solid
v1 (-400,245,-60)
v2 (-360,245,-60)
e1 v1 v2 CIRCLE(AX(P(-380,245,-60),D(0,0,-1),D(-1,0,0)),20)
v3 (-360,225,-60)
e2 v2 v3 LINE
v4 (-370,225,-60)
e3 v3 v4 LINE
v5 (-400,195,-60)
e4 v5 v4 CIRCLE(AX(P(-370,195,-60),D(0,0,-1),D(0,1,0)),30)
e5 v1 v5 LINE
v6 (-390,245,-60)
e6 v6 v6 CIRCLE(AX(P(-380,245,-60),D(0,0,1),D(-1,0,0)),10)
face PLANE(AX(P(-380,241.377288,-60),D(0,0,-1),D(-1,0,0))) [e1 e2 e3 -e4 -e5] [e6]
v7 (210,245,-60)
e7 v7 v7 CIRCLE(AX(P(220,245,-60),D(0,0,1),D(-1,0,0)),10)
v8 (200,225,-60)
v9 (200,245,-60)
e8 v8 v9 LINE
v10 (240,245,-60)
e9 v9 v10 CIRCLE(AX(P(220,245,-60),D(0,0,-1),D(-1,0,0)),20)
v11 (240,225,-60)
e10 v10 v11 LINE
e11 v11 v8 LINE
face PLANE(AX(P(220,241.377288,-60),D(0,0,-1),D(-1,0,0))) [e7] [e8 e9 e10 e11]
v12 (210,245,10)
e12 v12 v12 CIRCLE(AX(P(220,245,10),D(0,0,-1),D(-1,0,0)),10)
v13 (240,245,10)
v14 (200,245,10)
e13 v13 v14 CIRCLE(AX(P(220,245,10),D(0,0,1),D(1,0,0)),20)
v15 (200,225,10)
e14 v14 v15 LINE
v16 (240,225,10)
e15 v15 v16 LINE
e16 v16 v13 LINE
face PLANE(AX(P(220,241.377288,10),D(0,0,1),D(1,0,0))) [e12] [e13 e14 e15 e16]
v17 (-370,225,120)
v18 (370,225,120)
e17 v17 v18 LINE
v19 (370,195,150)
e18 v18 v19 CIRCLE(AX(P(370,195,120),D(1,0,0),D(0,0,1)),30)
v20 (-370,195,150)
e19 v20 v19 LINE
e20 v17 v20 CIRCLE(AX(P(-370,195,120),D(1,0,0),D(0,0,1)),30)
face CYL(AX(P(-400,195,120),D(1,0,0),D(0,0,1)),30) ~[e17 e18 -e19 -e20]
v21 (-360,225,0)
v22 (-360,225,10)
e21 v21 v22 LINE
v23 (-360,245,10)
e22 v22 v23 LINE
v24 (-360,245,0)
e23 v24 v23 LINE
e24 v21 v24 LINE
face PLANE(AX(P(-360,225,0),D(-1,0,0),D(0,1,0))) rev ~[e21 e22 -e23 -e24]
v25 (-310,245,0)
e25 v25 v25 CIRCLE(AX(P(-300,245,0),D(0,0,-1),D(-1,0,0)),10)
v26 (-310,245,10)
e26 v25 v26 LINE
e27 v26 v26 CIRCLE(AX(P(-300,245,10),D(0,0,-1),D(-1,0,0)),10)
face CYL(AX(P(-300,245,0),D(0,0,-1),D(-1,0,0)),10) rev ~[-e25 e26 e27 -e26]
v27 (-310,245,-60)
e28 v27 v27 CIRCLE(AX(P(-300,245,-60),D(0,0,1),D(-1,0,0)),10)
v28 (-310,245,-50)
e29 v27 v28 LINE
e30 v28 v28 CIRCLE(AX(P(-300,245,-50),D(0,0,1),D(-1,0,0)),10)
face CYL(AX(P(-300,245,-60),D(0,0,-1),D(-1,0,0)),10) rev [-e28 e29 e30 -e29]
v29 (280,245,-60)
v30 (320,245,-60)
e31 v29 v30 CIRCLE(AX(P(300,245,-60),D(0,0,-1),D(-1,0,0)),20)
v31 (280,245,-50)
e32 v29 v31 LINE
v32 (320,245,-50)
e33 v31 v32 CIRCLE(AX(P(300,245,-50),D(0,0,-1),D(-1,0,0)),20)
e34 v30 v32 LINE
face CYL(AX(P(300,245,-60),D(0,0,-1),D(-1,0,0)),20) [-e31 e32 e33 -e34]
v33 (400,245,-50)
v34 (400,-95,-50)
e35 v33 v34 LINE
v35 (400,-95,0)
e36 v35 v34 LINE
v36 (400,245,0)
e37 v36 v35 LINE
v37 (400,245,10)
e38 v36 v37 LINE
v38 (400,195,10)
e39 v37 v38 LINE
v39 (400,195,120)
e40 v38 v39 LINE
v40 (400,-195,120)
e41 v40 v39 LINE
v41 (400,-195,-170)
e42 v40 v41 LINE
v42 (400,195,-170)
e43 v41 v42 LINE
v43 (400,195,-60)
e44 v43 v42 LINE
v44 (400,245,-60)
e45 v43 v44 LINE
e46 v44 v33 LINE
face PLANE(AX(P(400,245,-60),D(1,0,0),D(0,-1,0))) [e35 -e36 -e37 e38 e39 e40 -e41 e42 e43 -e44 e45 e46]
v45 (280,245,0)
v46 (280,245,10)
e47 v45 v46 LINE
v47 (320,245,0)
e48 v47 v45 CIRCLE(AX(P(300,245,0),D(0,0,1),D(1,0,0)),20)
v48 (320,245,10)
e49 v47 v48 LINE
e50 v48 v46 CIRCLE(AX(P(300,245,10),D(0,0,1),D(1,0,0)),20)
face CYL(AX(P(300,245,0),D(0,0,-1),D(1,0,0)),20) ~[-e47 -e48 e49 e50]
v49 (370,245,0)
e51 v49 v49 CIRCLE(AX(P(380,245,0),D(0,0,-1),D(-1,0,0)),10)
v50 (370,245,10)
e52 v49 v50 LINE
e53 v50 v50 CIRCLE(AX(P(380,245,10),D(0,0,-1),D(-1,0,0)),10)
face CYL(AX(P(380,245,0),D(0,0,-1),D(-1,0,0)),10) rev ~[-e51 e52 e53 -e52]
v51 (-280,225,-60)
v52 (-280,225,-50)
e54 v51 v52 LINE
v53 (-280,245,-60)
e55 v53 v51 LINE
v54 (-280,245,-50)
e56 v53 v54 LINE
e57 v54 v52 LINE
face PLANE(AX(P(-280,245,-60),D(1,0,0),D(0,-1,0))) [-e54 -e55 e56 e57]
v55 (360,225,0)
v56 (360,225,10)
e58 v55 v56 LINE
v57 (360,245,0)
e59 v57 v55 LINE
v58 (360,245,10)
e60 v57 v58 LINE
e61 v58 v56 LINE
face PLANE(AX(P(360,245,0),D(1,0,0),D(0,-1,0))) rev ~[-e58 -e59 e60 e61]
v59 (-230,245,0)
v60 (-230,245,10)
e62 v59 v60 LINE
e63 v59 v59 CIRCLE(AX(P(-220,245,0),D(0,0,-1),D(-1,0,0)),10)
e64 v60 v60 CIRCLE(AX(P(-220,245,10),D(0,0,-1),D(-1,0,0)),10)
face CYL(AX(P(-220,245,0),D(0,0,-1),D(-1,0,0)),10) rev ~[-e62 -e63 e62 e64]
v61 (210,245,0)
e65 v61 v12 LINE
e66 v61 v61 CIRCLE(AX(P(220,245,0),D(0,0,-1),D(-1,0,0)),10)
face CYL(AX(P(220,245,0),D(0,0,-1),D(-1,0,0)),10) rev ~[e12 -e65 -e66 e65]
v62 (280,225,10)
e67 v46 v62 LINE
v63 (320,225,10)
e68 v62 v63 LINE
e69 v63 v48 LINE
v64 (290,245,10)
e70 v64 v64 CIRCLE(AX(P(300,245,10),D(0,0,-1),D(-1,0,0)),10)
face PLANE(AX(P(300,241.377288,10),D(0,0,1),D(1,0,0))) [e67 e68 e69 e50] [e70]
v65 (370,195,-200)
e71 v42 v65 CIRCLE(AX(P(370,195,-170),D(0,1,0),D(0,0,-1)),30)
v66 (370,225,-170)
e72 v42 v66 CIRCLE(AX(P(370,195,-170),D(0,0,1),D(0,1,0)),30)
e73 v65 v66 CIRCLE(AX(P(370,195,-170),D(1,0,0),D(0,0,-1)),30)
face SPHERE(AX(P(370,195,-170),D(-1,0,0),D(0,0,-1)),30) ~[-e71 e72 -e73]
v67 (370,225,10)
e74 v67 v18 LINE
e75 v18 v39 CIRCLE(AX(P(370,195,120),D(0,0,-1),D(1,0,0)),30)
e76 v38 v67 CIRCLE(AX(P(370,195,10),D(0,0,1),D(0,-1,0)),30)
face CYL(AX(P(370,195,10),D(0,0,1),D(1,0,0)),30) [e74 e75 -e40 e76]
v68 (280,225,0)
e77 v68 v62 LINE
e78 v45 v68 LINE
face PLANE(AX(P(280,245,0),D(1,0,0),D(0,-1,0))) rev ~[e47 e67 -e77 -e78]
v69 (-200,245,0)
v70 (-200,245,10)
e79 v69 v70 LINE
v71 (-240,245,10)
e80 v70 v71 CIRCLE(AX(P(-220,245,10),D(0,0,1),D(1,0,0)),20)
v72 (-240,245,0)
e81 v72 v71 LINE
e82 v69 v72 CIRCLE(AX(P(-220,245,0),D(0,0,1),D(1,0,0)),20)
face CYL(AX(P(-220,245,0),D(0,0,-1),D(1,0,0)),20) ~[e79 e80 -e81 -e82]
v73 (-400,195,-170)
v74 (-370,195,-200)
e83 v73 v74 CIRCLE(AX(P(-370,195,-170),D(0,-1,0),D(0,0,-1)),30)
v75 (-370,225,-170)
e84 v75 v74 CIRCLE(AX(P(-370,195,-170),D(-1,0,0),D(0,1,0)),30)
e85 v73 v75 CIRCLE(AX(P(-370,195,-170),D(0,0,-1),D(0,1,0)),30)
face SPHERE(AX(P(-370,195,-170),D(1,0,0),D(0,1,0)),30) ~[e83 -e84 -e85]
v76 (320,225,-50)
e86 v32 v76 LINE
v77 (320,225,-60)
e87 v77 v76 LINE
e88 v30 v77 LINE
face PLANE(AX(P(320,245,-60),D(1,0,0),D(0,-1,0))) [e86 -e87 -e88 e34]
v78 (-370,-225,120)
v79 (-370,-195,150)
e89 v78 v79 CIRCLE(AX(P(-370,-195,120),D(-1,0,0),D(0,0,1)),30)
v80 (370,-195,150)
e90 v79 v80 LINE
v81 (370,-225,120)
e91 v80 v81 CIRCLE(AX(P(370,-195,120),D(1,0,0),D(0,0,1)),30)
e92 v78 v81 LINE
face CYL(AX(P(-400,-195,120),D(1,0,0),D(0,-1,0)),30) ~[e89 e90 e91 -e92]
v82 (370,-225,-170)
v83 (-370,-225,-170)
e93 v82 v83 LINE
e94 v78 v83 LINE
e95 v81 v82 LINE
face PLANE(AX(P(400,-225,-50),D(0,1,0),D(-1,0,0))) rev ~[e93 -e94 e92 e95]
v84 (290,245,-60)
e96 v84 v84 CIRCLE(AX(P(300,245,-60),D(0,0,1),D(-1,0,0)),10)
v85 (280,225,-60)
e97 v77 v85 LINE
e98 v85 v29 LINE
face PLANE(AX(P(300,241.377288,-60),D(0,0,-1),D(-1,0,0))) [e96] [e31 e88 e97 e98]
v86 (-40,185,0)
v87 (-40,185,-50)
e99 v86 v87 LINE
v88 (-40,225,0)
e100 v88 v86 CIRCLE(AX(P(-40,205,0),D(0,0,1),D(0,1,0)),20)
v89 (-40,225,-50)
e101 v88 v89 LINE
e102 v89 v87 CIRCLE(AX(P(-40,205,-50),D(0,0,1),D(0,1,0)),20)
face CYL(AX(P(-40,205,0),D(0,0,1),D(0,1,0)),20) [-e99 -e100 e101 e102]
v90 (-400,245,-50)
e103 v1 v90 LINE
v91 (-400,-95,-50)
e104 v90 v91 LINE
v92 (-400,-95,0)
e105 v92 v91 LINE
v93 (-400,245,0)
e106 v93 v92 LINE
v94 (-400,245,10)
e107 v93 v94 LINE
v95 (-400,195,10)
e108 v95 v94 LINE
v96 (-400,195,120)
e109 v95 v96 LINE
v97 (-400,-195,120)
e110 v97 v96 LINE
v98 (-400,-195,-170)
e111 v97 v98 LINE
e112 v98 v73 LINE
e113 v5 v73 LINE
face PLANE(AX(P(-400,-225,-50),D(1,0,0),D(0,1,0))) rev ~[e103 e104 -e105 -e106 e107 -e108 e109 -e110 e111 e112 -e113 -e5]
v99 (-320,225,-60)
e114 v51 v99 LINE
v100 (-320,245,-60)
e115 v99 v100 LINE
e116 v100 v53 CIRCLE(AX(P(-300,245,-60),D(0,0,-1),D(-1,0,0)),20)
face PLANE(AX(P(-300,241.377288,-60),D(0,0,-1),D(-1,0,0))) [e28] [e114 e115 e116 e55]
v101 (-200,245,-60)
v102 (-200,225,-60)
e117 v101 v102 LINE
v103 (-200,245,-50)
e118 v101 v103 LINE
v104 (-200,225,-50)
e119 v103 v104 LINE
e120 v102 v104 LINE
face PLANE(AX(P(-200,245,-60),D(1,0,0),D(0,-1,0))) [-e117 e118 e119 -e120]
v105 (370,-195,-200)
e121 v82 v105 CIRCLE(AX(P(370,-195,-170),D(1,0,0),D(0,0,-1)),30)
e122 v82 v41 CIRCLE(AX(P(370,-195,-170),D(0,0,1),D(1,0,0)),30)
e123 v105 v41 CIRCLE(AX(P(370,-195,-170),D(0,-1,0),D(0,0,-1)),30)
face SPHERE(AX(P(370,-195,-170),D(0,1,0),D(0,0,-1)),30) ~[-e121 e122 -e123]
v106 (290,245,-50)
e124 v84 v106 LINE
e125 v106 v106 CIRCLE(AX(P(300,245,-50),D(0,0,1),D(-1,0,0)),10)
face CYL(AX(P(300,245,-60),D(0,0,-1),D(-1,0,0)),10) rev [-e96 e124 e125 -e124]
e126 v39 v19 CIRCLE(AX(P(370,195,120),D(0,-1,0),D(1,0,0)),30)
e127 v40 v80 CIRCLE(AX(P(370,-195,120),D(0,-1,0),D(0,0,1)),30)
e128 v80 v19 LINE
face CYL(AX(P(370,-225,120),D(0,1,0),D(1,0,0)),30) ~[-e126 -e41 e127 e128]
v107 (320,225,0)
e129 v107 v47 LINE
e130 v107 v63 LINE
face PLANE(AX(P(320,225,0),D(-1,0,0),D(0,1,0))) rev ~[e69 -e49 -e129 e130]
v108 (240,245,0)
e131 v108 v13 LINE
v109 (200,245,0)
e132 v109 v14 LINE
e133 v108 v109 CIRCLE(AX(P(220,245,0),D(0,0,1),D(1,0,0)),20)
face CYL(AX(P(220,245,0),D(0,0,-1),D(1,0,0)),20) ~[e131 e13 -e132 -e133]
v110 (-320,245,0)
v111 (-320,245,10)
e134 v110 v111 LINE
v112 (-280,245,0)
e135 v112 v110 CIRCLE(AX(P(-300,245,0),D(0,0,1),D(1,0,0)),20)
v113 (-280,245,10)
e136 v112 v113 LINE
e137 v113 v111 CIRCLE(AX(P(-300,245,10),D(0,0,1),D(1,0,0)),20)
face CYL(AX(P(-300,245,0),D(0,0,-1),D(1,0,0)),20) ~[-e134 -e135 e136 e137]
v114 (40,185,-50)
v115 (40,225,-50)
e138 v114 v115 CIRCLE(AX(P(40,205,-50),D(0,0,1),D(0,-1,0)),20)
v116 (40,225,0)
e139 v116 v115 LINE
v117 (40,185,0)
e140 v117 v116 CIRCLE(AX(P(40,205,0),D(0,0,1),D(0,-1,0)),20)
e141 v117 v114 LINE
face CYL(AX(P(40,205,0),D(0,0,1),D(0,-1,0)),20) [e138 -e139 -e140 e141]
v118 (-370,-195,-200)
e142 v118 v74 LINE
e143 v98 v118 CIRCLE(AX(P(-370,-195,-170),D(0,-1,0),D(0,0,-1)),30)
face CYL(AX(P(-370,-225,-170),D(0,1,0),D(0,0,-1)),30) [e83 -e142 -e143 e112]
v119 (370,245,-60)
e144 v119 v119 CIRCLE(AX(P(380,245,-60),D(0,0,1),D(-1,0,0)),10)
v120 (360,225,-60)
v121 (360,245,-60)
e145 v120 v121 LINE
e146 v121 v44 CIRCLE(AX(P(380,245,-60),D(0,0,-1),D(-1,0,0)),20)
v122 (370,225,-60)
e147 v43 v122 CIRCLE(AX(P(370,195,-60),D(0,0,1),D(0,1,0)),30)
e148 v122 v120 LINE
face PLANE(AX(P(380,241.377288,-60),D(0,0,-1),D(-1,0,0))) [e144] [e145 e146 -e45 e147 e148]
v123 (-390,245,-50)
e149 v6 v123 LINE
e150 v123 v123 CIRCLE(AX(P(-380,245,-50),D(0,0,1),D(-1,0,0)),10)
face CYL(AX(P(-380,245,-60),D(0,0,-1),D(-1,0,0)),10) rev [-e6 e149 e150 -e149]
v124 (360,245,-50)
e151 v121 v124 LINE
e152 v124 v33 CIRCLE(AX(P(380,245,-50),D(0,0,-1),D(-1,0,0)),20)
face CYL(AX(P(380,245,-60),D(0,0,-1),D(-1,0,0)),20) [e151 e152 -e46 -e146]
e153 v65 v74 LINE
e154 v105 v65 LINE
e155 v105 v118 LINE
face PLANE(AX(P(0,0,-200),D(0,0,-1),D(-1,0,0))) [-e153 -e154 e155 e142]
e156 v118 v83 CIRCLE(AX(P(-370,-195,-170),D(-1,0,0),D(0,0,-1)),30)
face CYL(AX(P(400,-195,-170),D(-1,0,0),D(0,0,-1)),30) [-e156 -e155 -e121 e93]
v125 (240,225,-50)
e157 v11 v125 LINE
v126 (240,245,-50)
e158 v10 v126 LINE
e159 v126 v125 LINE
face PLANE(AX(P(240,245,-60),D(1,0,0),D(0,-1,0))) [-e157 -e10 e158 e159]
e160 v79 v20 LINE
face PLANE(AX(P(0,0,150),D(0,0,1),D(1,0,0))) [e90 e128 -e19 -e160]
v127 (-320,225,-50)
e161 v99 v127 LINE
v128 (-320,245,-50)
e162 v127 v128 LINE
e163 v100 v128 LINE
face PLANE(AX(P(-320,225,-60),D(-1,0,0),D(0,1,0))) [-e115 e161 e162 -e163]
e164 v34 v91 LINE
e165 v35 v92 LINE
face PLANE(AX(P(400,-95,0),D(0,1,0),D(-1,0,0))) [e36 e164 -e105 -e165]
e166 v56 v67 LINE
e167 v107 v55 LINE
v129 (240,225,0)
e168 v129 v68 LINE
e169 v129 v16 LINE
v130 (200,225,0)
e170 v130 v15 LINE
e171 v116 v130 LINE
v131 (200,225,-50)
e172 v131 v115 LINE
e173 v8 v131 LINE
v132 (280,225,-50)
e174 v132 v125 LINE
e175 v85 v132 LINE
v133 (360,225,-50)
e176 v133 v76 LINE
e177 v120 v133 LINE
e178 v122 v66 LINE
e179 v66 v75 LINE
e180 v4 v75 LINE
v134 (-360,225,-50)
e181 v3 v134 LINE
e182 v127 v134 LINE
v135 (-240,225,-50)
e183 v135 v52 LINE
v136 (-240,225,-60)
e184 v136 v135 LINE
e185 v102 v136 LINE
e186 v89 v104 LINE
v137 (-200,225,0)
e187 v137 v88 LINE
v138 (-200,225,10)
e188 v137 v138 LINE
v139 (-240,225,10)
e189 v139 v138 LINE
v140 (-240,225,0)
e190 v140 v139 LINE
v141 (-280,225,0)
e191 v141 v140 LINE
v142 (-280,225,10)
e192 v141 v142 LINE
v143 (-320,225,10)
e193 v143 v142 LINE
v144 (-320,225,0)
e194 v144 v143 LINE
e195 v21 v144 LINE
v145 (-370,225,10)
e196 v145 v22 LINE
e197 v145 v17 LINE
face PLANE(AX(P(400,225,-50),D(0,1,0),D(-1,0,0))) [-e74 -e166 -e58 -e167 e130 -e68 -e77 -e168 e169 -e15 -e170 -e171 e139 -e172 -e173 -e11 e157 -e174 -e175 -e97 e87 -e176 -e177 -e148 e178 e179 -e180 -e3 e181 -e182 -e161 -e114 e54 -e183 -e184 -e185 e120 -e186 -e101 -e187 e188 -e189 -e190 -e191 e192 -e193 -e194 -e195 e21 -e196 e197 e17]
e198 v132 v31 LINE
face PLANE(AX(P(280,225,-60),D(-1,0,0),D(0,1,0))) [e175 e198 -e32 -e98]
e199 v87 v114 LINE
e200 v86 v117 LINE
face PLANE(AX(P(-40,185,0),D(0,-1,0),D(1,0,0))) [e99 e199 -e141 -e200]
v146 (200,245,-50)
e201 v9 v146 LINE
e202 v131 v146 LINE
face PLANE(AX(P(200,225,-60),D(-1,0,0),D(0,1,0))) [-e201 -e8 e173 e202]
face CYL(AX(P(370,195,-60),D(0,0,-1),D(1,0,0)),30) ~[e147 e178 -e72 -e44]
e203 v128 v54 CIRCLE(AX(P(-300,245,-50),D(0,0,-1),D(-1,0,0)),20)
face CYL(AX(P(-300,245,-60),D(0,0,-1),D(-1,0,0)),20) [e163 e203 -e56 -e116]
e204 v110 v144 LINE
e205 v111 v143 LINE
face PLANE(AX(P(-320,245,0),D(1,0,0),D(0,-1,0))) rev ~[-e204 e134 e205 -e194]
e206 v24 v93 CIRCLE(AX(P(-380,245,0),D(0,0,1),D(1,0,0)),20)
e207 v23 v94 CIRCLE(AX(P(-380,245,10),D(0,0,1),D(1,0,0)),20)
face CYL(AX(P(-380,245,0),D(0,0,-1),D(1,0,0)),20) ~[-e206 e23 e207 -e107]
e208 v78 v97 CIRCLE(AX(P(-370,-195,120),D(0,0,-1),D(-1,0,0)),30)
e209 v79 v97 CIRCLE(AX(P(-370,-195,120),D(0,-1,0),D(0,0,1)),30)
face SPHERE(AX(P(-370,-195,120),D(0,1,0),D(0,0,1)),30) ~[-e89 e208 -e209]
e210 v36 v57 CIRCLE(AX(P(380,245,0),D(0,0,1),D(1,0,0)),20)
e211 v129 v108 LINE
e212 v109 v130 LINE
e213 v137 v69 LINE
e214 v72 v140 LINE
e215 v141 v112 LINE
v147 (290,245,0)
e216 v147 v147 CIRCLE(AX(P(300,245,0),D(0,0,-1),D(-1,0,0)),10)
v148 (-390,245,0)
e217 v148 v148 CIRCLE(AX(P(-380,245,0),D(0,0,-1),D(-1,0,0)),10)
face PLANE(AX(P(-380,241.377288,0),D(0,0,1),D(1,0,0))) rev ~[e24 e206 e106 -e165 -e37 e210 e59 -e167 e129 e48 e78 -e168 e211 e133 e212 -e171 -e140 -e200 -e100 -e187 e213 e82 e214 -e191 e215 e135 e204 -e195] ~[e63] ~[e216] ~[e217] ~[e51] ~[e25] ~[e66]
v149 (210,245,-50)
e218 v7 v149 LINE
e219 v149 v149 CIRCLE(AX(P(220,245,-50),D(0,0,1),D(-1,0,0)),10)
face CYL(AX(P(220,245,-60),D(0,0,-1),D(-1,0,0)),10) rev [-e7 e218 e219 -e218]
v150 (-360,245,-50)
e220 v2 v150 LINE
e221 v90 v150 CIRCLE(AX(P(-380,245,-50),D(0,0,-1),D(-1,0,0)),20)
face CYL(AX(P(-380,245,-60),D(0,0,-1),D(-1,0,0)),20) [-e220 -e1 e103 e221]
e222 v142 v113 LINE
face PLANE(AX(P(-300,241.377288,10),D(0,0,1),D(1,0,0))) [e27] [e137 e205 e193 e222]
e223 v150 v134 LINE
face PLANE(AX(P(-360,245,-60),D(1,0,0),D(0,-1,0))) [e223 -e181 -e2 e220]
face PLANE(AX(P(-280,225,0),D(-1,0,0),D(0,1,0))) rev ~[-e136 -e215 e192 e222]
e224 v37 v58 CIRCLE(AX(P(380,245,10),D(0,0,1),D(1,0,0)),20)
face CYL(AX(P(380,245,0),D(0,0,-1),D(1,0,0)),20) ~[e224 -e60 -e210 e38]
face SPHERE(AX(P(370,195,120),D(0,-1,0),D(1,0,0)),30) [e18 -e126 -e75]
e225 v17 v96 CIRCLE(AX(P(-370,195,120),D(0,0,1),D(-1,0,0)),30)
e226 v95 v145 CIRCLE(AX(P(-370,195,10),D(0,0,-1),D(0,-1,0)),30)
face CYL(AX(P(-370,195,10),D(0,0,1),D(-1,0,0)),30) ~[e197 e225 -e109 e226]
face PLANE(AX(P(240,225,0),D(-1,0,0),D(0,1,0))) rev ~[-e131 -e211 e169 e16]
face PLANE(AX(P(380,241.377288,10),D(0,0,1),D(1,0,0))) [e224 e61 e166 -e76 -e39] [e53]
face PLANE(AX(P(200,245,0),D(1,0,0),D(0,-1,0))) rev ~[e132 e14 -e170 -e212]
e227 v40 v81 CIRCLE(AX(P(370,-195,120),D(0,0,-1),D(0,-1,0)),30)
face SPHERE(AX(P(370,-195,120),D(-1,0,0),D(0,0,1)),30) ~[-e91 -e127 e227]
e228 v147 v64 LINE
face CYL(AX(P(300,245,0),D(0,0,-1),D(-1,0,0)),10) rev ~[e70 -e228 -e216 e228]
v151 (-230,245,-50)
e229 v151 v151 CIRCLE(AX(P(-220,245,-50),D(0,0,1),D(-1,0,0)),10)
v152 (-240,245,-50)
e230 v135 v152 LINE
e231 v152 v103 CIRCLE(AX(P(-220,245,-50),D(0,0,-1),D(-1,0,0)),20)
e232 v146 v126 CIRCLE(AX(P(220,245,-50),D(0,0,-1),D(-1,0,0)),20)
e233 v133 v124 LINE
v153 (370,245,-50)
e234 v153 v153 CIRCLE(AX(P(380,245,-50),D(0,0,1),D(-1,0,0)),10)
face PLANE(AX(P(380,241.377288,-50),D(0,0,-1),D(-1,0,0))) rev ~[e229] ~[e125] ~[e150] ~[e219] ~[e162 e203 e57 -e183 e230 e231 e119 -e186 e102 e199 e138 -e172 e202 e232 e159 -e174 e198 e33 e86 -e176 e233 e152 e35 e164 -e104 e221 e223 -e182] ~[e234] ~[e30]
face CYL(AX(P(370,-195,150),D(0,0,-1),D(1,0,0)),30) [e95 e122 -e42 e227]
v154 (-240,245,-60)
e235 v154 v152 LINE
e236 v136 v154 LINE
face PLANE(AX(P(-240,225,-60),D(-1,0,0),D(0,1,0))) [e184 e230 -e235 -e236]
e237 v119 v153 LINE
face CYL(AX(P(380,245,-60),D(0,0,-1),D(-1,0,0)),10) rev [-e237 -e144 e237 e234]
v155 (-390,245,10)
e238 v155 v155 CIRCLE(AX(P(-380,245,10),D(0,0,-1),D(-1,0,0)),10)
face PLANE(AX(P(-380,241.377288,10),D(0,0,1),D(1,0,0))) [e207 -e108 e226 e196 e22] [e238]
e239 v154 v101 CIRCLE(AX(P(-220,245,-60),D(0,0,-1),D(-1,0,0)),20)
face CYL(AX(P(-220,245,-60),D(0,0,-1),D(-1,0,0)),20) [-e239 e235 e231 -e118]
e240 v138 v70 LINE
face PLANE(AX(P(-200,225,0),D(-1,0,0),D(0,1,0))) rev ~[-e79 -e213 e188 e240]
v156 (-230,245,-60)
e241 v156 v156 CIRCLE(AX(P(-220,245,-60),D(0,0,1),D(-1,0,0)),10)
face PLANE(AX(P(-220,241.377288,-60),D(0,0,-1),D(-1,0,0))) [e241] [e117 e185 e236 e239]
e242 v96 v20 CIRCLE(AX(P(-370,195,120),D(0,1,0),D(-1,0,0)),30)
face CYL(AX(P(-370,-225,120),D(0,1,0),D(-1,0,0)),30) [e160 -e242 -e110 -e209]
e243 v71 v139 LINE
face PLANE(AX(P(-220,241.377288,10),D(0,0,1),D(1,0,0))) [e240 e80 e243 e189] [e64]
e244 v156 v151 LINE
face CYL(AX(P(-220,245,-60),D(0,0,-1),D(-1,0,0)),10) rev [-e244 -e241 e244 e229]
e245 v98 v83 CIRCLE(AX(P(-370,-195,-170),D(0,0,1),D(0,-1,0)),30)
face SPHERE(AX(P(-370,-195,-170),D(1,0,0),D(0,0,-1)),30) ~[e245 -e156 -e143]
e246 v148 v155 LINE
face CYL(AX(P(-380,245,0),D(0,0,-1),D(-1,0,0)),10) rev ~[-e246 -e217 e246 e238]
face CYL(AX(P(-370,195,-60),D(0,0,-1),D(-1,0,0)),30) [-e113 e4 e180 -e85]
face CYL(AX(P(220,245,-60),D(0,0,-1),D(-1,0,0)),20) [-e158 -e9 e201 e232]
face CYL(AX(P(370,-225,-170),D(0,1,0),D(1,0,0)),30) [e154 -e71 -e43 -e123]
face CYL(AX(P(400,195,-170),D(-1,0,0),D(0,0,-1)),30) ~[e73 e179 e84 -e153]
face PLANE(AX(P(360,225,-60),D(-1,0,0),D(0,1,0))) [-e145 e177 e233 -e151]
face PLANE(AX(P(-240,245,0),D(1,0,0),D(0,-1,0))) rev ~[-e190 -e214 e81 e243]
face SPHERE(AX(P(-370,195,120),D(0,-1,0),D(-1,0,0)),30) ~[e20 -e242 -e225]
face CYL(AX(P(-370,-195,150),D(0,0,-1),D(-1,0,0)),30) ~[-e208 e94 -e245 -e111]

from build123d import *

# Parameters (mm, degrees)
SKETCH_1_W      = 800
SKETCH_1_H      = 450
EXTRUDE_1_DEPTH = 150
SKETCH_2_R      = 10
EXTRUDE_2_DEPTH = 10
SKETCH_3_W      = 800
SKETCH_3_H      = 130
EXTRUDE_3_DEPTH = 50
SKETCH_4_W      = 800
SKETCH_4_H      = 450
EXTRUDE_4_DEPTH = 150
EXTRUDE_START   = -10
SKETCH_5_R      = 10
EXTRUDE_5_DEPTH = 10
FILLET_1_R      = 30


with BuildPart() as part:
    # 草图1 → 凸台-拉伸1 (new body)
    with BuildSketch(Plane.XY):
        Rectangle(SKETCH_1_W, SKETCH_1_H)
    extrude(amount=EXTRUDE_1_DEPTH)

    # 草图2 → 凸台-拉伸2 (add)
    # profile 1 of 6: a face of its own
    with BuildSketch(Plane(origin=(0, 0, 0), x_dir=(-1, 0, 0), z_dir=(0, 0, -1))):
        with BuildLine():
            Line((400, 245), (400, 225))
            Line((400, 225), (360, 225))
            Line((360, 225), (360, 245))
            ThreePointArc((360, 245), (380, 265), (400, 245))
        make_face()
        with Locations((380, 245)):
            Circle(SKETCH_2_R, mode=Mode.SUBTRACT)
    # profile 2 of 6: a face of its own
    with BuildSketch(Plane(origin=(0, 0, 0), x_dir=(-1, 0, 0), z_dir=(0, 0, -1))):
        with BuildLine():
            Line((240, 245), (240, 225))
            Line((240, 225), (200, 225))
            Line((200, 225), (200, 245))
            ThreePointArc((200, 245), (220, 265), (240, 245))
        make_face()
        with Locations((220, 245)):
            Circle(SKETCH_2_R, mode=Mode.SUBTRACT)
    # profile 3 of 6: a face of its own
    with BuildSketch(Plane(origin=(0, 0, 0), x_dir=(-1, 0, 0), z_dir=(0, 0, -1))):
        with BuildLine():
            Line((-200, 245), (-200, 225))
            Line((-200, 225), (-240, 225))
            Line((-240, 225), (-240, 245))
            ThreePointArc((-240, 245), (-220, 265), (-200, 245))
        make_face()
        with Locations((-220, 245)):
            Circle(SKETCH_2_R, mode=Mode.SUBTRACT)
    # profile 4 of 6: a face of its own
    with BuildSketch(Plane(origin=(0, 0, 0), x_dir=(-1, 0, 0), z_dir=(0, 0, -1))):
        with BuildLine():
            Line((-360, 245), (-360, 225))
            Line((-360, 225), (-400, 225))
            Line((-400, 225), (-400, 245))
            ThreePointArc((-400, 245), (-380, 265), (-360, 245))
        make_face()
        with Locations((-380, 245)):
            Circle(SKETCH_2_R, mode=Mode.SUBTRACT)
    # profile 5 of 6: a face of its own
    with BuildSketch(Plane(origin=(0, 0, 0), x_dir=(-1, 0, 0), z_dir=(0, 0, -1))):
        with BuildLine():
            Line((-280, 245), (-280, 225))
            Line((-280, 225), (-320, 225))
            Line((-320, 225), (-320, 245))
            ThreePointArc((-320, 245), (-300, 265), (-280, 245))
        make_face()
        with Locations((-300, 245)):
            Circle(SKETCH_2_R, mode=Mode.SUBTRACT)
    # profile 6 of 6: a face of its own
    with BuildSketch(Plane(origin=(0, 0, 0), x_dir=(-1, 0, 0), z_dir=(0, 0, -1))):
        with BuildLine():
            Line((320, 245), (320, 225))
            Line((320, 225), (280, 225))
            Line((280, 225), (280, 245))
            ThreePointArc((280, 245), (300, 265), (320, 245))
        make_face()
        with Locations((300, 245)):
            Circle(SKETCH_2_R, mode=Mode.SUBTRACT)
    extrude(amount=-EXTRUDE_2_DEPTH)

    # 草图3 → 凸台-拉伸3 (add)
    with BuildSketch(Plane(origin=(0, 0, 0), x_dir=(-1, 0, 0), z_dir=(0, 0, -1))):
        with BuildLine():
            Line((-40, 225), (40, 225))
            ThreePointArc((40, 225), (60, 205), (40, 185))
            Line((40, 185), (-40, 185))
            ThreePointArc((-40, 185), (-60, 205), (-40, 225))
        make_face()
        with Locations((0, -160)):
            Rectangle(SKETCH_3_W, SKETCH_3_H)
    extrude(amount=EXTRUDE_3_DEPTH)

    # 草图4 → 凸台-拉伸4 (add)
    with BuildSketch(Plane(origin=(0, 0, -50), x_dir=(-1, 0, 0), z_dir=(0, 0, -1))):
        Rectangle(SKETCH_4_W, SKETCH_4_H)
    extrude(amount=EXTRUDE_4_DEPTH)

    # 草图5 → 凸台-拉伸5 (add)
    # profile 1 of 6: a face of its own
    with BuildSketch(Plane.XY.offset(-50).offset(EXTRUDE_START)):
        with BuildLine():
            Line((400, 245), (400, 225))
            Line((400, 225), (360, 225))
            Line((360, 225), (360, 245))
            ThreePointArc((360, 245), (380, 265), (400, 245))
        make_face()
        with Locations(Location((380, 245, 0), (0, 0, 180))):
            Circle(SKETCH_5_R, mode=Mode.SUBTRACT)
    # profile 2 of 6: a face of its own
    with BuildSketch(Plane.XY.offset(-50).offset(EXTRUDE_START)):
        with BuildLine():
            Line((240, 245), (240, 225))
            Line((240, 225), (200, 225))
            Line((200, 225), (200, 245))
            ThreePointArc((200, 245), (220, 265), (240, 245))
        make_face()
        with Locations(Location((220, 245, 0), (0, 0, 180))):
            Circle(SKETCH_5_R, mode=Mode.SUBTRACT)
    # profile 3 of 6: a face of its own
    with BuildSketch(Plane.XY.offset(-50).offset(EXTRUDE_START)):
        with BuildLine():
            Line((-200, 245), (-200, 225))
            Line((-200, 225), (-240, 225))
            Line((-240, 225), (-240, 245))
            ThreePointArc((-240, 245), (-220, 265), (-200, 245))
        make_face()
        with Locations(Location((-220, 245, 0), (0, 0, 180))):
            Circle(SKETCH_5_R, mode=Mode.SUBTRACT)
    # profile 4 of 6: a face of its own
    with BuildSketch(Plane.XY.offset(-50).offset(EXTRUDE_START)):
        with BuildLine():
            Line((-360, 245), (-360, 225))
            Line((-360, 225), (-400, 225))
            Line((-400, 225), (-400, 245))
            ThreePointArc((-400, 245), (-380, 265), (-360, 245))
        make_face()
        with Locations(Location((-380, 245, 0), (0, 0, 180))):
            Circle(SKETCH_5_R, mode=Mode.SUBTRACT)
    # profile 5 of 6: a face of its own
    with BuildSketch(Plane.XY.offset(-50).offset(EXTRUDE_START)):
        with BuildLine():
            Line((-280, 245), (-280, 225))
            Line((-280, 225), (-320, 225))
            Line((-320, 225), (-320, 245))
            ThreePointArc((-320, 245), (-300, 265), (-280, 245))
        make_face()
        with Locations(Location((-300, 245, 0), (0, 0, 180))):
            Circle(SKETCH_5_R, mode=Mode.SUBTRACT)
    # profile 6 of 6: a face of its own
    with BuildSketch(Plane.XY.offset(-50).offset(EXTRUDE_START)):
        with BuildLine():
            Line((320, 245), (320, 225))
            Line((320, 225), (280, 225))
            Line((280, 225), (280, 245))
            ThreePointArc((280, 245), (300, 265), (320, 245))
        make_face()
        with Locations(Location((300, 245, 0), (0, 0, 180))):
            Circle(SKETCH_5_R, mode=Mode.SUBTRACT)
    extrude(amount=EXTRUDE_5_DEPTH)

    # 圆角1
    fillet_1_edges = [part.edges().sort_by_distance(p)[0] for p in [
        (0, 225, -200),
        (-400, 225, -130),
        (400, 0, -200),
        (400, 225, -130),
        (0, -225, -200),
        (-400, 0, -200),
        (-400, 0, 150),
        (0, -225, 150),
        (400, 0, 150),
        (400, -225, -25),
        (-400, -225, -25),
        (-400, 225, 80),
        (400, 225, 80),
        (0, 225, 150),
    ]]
    fillet(fillet_1_edges, radius=FILLET_1_R)


solid = part.part
